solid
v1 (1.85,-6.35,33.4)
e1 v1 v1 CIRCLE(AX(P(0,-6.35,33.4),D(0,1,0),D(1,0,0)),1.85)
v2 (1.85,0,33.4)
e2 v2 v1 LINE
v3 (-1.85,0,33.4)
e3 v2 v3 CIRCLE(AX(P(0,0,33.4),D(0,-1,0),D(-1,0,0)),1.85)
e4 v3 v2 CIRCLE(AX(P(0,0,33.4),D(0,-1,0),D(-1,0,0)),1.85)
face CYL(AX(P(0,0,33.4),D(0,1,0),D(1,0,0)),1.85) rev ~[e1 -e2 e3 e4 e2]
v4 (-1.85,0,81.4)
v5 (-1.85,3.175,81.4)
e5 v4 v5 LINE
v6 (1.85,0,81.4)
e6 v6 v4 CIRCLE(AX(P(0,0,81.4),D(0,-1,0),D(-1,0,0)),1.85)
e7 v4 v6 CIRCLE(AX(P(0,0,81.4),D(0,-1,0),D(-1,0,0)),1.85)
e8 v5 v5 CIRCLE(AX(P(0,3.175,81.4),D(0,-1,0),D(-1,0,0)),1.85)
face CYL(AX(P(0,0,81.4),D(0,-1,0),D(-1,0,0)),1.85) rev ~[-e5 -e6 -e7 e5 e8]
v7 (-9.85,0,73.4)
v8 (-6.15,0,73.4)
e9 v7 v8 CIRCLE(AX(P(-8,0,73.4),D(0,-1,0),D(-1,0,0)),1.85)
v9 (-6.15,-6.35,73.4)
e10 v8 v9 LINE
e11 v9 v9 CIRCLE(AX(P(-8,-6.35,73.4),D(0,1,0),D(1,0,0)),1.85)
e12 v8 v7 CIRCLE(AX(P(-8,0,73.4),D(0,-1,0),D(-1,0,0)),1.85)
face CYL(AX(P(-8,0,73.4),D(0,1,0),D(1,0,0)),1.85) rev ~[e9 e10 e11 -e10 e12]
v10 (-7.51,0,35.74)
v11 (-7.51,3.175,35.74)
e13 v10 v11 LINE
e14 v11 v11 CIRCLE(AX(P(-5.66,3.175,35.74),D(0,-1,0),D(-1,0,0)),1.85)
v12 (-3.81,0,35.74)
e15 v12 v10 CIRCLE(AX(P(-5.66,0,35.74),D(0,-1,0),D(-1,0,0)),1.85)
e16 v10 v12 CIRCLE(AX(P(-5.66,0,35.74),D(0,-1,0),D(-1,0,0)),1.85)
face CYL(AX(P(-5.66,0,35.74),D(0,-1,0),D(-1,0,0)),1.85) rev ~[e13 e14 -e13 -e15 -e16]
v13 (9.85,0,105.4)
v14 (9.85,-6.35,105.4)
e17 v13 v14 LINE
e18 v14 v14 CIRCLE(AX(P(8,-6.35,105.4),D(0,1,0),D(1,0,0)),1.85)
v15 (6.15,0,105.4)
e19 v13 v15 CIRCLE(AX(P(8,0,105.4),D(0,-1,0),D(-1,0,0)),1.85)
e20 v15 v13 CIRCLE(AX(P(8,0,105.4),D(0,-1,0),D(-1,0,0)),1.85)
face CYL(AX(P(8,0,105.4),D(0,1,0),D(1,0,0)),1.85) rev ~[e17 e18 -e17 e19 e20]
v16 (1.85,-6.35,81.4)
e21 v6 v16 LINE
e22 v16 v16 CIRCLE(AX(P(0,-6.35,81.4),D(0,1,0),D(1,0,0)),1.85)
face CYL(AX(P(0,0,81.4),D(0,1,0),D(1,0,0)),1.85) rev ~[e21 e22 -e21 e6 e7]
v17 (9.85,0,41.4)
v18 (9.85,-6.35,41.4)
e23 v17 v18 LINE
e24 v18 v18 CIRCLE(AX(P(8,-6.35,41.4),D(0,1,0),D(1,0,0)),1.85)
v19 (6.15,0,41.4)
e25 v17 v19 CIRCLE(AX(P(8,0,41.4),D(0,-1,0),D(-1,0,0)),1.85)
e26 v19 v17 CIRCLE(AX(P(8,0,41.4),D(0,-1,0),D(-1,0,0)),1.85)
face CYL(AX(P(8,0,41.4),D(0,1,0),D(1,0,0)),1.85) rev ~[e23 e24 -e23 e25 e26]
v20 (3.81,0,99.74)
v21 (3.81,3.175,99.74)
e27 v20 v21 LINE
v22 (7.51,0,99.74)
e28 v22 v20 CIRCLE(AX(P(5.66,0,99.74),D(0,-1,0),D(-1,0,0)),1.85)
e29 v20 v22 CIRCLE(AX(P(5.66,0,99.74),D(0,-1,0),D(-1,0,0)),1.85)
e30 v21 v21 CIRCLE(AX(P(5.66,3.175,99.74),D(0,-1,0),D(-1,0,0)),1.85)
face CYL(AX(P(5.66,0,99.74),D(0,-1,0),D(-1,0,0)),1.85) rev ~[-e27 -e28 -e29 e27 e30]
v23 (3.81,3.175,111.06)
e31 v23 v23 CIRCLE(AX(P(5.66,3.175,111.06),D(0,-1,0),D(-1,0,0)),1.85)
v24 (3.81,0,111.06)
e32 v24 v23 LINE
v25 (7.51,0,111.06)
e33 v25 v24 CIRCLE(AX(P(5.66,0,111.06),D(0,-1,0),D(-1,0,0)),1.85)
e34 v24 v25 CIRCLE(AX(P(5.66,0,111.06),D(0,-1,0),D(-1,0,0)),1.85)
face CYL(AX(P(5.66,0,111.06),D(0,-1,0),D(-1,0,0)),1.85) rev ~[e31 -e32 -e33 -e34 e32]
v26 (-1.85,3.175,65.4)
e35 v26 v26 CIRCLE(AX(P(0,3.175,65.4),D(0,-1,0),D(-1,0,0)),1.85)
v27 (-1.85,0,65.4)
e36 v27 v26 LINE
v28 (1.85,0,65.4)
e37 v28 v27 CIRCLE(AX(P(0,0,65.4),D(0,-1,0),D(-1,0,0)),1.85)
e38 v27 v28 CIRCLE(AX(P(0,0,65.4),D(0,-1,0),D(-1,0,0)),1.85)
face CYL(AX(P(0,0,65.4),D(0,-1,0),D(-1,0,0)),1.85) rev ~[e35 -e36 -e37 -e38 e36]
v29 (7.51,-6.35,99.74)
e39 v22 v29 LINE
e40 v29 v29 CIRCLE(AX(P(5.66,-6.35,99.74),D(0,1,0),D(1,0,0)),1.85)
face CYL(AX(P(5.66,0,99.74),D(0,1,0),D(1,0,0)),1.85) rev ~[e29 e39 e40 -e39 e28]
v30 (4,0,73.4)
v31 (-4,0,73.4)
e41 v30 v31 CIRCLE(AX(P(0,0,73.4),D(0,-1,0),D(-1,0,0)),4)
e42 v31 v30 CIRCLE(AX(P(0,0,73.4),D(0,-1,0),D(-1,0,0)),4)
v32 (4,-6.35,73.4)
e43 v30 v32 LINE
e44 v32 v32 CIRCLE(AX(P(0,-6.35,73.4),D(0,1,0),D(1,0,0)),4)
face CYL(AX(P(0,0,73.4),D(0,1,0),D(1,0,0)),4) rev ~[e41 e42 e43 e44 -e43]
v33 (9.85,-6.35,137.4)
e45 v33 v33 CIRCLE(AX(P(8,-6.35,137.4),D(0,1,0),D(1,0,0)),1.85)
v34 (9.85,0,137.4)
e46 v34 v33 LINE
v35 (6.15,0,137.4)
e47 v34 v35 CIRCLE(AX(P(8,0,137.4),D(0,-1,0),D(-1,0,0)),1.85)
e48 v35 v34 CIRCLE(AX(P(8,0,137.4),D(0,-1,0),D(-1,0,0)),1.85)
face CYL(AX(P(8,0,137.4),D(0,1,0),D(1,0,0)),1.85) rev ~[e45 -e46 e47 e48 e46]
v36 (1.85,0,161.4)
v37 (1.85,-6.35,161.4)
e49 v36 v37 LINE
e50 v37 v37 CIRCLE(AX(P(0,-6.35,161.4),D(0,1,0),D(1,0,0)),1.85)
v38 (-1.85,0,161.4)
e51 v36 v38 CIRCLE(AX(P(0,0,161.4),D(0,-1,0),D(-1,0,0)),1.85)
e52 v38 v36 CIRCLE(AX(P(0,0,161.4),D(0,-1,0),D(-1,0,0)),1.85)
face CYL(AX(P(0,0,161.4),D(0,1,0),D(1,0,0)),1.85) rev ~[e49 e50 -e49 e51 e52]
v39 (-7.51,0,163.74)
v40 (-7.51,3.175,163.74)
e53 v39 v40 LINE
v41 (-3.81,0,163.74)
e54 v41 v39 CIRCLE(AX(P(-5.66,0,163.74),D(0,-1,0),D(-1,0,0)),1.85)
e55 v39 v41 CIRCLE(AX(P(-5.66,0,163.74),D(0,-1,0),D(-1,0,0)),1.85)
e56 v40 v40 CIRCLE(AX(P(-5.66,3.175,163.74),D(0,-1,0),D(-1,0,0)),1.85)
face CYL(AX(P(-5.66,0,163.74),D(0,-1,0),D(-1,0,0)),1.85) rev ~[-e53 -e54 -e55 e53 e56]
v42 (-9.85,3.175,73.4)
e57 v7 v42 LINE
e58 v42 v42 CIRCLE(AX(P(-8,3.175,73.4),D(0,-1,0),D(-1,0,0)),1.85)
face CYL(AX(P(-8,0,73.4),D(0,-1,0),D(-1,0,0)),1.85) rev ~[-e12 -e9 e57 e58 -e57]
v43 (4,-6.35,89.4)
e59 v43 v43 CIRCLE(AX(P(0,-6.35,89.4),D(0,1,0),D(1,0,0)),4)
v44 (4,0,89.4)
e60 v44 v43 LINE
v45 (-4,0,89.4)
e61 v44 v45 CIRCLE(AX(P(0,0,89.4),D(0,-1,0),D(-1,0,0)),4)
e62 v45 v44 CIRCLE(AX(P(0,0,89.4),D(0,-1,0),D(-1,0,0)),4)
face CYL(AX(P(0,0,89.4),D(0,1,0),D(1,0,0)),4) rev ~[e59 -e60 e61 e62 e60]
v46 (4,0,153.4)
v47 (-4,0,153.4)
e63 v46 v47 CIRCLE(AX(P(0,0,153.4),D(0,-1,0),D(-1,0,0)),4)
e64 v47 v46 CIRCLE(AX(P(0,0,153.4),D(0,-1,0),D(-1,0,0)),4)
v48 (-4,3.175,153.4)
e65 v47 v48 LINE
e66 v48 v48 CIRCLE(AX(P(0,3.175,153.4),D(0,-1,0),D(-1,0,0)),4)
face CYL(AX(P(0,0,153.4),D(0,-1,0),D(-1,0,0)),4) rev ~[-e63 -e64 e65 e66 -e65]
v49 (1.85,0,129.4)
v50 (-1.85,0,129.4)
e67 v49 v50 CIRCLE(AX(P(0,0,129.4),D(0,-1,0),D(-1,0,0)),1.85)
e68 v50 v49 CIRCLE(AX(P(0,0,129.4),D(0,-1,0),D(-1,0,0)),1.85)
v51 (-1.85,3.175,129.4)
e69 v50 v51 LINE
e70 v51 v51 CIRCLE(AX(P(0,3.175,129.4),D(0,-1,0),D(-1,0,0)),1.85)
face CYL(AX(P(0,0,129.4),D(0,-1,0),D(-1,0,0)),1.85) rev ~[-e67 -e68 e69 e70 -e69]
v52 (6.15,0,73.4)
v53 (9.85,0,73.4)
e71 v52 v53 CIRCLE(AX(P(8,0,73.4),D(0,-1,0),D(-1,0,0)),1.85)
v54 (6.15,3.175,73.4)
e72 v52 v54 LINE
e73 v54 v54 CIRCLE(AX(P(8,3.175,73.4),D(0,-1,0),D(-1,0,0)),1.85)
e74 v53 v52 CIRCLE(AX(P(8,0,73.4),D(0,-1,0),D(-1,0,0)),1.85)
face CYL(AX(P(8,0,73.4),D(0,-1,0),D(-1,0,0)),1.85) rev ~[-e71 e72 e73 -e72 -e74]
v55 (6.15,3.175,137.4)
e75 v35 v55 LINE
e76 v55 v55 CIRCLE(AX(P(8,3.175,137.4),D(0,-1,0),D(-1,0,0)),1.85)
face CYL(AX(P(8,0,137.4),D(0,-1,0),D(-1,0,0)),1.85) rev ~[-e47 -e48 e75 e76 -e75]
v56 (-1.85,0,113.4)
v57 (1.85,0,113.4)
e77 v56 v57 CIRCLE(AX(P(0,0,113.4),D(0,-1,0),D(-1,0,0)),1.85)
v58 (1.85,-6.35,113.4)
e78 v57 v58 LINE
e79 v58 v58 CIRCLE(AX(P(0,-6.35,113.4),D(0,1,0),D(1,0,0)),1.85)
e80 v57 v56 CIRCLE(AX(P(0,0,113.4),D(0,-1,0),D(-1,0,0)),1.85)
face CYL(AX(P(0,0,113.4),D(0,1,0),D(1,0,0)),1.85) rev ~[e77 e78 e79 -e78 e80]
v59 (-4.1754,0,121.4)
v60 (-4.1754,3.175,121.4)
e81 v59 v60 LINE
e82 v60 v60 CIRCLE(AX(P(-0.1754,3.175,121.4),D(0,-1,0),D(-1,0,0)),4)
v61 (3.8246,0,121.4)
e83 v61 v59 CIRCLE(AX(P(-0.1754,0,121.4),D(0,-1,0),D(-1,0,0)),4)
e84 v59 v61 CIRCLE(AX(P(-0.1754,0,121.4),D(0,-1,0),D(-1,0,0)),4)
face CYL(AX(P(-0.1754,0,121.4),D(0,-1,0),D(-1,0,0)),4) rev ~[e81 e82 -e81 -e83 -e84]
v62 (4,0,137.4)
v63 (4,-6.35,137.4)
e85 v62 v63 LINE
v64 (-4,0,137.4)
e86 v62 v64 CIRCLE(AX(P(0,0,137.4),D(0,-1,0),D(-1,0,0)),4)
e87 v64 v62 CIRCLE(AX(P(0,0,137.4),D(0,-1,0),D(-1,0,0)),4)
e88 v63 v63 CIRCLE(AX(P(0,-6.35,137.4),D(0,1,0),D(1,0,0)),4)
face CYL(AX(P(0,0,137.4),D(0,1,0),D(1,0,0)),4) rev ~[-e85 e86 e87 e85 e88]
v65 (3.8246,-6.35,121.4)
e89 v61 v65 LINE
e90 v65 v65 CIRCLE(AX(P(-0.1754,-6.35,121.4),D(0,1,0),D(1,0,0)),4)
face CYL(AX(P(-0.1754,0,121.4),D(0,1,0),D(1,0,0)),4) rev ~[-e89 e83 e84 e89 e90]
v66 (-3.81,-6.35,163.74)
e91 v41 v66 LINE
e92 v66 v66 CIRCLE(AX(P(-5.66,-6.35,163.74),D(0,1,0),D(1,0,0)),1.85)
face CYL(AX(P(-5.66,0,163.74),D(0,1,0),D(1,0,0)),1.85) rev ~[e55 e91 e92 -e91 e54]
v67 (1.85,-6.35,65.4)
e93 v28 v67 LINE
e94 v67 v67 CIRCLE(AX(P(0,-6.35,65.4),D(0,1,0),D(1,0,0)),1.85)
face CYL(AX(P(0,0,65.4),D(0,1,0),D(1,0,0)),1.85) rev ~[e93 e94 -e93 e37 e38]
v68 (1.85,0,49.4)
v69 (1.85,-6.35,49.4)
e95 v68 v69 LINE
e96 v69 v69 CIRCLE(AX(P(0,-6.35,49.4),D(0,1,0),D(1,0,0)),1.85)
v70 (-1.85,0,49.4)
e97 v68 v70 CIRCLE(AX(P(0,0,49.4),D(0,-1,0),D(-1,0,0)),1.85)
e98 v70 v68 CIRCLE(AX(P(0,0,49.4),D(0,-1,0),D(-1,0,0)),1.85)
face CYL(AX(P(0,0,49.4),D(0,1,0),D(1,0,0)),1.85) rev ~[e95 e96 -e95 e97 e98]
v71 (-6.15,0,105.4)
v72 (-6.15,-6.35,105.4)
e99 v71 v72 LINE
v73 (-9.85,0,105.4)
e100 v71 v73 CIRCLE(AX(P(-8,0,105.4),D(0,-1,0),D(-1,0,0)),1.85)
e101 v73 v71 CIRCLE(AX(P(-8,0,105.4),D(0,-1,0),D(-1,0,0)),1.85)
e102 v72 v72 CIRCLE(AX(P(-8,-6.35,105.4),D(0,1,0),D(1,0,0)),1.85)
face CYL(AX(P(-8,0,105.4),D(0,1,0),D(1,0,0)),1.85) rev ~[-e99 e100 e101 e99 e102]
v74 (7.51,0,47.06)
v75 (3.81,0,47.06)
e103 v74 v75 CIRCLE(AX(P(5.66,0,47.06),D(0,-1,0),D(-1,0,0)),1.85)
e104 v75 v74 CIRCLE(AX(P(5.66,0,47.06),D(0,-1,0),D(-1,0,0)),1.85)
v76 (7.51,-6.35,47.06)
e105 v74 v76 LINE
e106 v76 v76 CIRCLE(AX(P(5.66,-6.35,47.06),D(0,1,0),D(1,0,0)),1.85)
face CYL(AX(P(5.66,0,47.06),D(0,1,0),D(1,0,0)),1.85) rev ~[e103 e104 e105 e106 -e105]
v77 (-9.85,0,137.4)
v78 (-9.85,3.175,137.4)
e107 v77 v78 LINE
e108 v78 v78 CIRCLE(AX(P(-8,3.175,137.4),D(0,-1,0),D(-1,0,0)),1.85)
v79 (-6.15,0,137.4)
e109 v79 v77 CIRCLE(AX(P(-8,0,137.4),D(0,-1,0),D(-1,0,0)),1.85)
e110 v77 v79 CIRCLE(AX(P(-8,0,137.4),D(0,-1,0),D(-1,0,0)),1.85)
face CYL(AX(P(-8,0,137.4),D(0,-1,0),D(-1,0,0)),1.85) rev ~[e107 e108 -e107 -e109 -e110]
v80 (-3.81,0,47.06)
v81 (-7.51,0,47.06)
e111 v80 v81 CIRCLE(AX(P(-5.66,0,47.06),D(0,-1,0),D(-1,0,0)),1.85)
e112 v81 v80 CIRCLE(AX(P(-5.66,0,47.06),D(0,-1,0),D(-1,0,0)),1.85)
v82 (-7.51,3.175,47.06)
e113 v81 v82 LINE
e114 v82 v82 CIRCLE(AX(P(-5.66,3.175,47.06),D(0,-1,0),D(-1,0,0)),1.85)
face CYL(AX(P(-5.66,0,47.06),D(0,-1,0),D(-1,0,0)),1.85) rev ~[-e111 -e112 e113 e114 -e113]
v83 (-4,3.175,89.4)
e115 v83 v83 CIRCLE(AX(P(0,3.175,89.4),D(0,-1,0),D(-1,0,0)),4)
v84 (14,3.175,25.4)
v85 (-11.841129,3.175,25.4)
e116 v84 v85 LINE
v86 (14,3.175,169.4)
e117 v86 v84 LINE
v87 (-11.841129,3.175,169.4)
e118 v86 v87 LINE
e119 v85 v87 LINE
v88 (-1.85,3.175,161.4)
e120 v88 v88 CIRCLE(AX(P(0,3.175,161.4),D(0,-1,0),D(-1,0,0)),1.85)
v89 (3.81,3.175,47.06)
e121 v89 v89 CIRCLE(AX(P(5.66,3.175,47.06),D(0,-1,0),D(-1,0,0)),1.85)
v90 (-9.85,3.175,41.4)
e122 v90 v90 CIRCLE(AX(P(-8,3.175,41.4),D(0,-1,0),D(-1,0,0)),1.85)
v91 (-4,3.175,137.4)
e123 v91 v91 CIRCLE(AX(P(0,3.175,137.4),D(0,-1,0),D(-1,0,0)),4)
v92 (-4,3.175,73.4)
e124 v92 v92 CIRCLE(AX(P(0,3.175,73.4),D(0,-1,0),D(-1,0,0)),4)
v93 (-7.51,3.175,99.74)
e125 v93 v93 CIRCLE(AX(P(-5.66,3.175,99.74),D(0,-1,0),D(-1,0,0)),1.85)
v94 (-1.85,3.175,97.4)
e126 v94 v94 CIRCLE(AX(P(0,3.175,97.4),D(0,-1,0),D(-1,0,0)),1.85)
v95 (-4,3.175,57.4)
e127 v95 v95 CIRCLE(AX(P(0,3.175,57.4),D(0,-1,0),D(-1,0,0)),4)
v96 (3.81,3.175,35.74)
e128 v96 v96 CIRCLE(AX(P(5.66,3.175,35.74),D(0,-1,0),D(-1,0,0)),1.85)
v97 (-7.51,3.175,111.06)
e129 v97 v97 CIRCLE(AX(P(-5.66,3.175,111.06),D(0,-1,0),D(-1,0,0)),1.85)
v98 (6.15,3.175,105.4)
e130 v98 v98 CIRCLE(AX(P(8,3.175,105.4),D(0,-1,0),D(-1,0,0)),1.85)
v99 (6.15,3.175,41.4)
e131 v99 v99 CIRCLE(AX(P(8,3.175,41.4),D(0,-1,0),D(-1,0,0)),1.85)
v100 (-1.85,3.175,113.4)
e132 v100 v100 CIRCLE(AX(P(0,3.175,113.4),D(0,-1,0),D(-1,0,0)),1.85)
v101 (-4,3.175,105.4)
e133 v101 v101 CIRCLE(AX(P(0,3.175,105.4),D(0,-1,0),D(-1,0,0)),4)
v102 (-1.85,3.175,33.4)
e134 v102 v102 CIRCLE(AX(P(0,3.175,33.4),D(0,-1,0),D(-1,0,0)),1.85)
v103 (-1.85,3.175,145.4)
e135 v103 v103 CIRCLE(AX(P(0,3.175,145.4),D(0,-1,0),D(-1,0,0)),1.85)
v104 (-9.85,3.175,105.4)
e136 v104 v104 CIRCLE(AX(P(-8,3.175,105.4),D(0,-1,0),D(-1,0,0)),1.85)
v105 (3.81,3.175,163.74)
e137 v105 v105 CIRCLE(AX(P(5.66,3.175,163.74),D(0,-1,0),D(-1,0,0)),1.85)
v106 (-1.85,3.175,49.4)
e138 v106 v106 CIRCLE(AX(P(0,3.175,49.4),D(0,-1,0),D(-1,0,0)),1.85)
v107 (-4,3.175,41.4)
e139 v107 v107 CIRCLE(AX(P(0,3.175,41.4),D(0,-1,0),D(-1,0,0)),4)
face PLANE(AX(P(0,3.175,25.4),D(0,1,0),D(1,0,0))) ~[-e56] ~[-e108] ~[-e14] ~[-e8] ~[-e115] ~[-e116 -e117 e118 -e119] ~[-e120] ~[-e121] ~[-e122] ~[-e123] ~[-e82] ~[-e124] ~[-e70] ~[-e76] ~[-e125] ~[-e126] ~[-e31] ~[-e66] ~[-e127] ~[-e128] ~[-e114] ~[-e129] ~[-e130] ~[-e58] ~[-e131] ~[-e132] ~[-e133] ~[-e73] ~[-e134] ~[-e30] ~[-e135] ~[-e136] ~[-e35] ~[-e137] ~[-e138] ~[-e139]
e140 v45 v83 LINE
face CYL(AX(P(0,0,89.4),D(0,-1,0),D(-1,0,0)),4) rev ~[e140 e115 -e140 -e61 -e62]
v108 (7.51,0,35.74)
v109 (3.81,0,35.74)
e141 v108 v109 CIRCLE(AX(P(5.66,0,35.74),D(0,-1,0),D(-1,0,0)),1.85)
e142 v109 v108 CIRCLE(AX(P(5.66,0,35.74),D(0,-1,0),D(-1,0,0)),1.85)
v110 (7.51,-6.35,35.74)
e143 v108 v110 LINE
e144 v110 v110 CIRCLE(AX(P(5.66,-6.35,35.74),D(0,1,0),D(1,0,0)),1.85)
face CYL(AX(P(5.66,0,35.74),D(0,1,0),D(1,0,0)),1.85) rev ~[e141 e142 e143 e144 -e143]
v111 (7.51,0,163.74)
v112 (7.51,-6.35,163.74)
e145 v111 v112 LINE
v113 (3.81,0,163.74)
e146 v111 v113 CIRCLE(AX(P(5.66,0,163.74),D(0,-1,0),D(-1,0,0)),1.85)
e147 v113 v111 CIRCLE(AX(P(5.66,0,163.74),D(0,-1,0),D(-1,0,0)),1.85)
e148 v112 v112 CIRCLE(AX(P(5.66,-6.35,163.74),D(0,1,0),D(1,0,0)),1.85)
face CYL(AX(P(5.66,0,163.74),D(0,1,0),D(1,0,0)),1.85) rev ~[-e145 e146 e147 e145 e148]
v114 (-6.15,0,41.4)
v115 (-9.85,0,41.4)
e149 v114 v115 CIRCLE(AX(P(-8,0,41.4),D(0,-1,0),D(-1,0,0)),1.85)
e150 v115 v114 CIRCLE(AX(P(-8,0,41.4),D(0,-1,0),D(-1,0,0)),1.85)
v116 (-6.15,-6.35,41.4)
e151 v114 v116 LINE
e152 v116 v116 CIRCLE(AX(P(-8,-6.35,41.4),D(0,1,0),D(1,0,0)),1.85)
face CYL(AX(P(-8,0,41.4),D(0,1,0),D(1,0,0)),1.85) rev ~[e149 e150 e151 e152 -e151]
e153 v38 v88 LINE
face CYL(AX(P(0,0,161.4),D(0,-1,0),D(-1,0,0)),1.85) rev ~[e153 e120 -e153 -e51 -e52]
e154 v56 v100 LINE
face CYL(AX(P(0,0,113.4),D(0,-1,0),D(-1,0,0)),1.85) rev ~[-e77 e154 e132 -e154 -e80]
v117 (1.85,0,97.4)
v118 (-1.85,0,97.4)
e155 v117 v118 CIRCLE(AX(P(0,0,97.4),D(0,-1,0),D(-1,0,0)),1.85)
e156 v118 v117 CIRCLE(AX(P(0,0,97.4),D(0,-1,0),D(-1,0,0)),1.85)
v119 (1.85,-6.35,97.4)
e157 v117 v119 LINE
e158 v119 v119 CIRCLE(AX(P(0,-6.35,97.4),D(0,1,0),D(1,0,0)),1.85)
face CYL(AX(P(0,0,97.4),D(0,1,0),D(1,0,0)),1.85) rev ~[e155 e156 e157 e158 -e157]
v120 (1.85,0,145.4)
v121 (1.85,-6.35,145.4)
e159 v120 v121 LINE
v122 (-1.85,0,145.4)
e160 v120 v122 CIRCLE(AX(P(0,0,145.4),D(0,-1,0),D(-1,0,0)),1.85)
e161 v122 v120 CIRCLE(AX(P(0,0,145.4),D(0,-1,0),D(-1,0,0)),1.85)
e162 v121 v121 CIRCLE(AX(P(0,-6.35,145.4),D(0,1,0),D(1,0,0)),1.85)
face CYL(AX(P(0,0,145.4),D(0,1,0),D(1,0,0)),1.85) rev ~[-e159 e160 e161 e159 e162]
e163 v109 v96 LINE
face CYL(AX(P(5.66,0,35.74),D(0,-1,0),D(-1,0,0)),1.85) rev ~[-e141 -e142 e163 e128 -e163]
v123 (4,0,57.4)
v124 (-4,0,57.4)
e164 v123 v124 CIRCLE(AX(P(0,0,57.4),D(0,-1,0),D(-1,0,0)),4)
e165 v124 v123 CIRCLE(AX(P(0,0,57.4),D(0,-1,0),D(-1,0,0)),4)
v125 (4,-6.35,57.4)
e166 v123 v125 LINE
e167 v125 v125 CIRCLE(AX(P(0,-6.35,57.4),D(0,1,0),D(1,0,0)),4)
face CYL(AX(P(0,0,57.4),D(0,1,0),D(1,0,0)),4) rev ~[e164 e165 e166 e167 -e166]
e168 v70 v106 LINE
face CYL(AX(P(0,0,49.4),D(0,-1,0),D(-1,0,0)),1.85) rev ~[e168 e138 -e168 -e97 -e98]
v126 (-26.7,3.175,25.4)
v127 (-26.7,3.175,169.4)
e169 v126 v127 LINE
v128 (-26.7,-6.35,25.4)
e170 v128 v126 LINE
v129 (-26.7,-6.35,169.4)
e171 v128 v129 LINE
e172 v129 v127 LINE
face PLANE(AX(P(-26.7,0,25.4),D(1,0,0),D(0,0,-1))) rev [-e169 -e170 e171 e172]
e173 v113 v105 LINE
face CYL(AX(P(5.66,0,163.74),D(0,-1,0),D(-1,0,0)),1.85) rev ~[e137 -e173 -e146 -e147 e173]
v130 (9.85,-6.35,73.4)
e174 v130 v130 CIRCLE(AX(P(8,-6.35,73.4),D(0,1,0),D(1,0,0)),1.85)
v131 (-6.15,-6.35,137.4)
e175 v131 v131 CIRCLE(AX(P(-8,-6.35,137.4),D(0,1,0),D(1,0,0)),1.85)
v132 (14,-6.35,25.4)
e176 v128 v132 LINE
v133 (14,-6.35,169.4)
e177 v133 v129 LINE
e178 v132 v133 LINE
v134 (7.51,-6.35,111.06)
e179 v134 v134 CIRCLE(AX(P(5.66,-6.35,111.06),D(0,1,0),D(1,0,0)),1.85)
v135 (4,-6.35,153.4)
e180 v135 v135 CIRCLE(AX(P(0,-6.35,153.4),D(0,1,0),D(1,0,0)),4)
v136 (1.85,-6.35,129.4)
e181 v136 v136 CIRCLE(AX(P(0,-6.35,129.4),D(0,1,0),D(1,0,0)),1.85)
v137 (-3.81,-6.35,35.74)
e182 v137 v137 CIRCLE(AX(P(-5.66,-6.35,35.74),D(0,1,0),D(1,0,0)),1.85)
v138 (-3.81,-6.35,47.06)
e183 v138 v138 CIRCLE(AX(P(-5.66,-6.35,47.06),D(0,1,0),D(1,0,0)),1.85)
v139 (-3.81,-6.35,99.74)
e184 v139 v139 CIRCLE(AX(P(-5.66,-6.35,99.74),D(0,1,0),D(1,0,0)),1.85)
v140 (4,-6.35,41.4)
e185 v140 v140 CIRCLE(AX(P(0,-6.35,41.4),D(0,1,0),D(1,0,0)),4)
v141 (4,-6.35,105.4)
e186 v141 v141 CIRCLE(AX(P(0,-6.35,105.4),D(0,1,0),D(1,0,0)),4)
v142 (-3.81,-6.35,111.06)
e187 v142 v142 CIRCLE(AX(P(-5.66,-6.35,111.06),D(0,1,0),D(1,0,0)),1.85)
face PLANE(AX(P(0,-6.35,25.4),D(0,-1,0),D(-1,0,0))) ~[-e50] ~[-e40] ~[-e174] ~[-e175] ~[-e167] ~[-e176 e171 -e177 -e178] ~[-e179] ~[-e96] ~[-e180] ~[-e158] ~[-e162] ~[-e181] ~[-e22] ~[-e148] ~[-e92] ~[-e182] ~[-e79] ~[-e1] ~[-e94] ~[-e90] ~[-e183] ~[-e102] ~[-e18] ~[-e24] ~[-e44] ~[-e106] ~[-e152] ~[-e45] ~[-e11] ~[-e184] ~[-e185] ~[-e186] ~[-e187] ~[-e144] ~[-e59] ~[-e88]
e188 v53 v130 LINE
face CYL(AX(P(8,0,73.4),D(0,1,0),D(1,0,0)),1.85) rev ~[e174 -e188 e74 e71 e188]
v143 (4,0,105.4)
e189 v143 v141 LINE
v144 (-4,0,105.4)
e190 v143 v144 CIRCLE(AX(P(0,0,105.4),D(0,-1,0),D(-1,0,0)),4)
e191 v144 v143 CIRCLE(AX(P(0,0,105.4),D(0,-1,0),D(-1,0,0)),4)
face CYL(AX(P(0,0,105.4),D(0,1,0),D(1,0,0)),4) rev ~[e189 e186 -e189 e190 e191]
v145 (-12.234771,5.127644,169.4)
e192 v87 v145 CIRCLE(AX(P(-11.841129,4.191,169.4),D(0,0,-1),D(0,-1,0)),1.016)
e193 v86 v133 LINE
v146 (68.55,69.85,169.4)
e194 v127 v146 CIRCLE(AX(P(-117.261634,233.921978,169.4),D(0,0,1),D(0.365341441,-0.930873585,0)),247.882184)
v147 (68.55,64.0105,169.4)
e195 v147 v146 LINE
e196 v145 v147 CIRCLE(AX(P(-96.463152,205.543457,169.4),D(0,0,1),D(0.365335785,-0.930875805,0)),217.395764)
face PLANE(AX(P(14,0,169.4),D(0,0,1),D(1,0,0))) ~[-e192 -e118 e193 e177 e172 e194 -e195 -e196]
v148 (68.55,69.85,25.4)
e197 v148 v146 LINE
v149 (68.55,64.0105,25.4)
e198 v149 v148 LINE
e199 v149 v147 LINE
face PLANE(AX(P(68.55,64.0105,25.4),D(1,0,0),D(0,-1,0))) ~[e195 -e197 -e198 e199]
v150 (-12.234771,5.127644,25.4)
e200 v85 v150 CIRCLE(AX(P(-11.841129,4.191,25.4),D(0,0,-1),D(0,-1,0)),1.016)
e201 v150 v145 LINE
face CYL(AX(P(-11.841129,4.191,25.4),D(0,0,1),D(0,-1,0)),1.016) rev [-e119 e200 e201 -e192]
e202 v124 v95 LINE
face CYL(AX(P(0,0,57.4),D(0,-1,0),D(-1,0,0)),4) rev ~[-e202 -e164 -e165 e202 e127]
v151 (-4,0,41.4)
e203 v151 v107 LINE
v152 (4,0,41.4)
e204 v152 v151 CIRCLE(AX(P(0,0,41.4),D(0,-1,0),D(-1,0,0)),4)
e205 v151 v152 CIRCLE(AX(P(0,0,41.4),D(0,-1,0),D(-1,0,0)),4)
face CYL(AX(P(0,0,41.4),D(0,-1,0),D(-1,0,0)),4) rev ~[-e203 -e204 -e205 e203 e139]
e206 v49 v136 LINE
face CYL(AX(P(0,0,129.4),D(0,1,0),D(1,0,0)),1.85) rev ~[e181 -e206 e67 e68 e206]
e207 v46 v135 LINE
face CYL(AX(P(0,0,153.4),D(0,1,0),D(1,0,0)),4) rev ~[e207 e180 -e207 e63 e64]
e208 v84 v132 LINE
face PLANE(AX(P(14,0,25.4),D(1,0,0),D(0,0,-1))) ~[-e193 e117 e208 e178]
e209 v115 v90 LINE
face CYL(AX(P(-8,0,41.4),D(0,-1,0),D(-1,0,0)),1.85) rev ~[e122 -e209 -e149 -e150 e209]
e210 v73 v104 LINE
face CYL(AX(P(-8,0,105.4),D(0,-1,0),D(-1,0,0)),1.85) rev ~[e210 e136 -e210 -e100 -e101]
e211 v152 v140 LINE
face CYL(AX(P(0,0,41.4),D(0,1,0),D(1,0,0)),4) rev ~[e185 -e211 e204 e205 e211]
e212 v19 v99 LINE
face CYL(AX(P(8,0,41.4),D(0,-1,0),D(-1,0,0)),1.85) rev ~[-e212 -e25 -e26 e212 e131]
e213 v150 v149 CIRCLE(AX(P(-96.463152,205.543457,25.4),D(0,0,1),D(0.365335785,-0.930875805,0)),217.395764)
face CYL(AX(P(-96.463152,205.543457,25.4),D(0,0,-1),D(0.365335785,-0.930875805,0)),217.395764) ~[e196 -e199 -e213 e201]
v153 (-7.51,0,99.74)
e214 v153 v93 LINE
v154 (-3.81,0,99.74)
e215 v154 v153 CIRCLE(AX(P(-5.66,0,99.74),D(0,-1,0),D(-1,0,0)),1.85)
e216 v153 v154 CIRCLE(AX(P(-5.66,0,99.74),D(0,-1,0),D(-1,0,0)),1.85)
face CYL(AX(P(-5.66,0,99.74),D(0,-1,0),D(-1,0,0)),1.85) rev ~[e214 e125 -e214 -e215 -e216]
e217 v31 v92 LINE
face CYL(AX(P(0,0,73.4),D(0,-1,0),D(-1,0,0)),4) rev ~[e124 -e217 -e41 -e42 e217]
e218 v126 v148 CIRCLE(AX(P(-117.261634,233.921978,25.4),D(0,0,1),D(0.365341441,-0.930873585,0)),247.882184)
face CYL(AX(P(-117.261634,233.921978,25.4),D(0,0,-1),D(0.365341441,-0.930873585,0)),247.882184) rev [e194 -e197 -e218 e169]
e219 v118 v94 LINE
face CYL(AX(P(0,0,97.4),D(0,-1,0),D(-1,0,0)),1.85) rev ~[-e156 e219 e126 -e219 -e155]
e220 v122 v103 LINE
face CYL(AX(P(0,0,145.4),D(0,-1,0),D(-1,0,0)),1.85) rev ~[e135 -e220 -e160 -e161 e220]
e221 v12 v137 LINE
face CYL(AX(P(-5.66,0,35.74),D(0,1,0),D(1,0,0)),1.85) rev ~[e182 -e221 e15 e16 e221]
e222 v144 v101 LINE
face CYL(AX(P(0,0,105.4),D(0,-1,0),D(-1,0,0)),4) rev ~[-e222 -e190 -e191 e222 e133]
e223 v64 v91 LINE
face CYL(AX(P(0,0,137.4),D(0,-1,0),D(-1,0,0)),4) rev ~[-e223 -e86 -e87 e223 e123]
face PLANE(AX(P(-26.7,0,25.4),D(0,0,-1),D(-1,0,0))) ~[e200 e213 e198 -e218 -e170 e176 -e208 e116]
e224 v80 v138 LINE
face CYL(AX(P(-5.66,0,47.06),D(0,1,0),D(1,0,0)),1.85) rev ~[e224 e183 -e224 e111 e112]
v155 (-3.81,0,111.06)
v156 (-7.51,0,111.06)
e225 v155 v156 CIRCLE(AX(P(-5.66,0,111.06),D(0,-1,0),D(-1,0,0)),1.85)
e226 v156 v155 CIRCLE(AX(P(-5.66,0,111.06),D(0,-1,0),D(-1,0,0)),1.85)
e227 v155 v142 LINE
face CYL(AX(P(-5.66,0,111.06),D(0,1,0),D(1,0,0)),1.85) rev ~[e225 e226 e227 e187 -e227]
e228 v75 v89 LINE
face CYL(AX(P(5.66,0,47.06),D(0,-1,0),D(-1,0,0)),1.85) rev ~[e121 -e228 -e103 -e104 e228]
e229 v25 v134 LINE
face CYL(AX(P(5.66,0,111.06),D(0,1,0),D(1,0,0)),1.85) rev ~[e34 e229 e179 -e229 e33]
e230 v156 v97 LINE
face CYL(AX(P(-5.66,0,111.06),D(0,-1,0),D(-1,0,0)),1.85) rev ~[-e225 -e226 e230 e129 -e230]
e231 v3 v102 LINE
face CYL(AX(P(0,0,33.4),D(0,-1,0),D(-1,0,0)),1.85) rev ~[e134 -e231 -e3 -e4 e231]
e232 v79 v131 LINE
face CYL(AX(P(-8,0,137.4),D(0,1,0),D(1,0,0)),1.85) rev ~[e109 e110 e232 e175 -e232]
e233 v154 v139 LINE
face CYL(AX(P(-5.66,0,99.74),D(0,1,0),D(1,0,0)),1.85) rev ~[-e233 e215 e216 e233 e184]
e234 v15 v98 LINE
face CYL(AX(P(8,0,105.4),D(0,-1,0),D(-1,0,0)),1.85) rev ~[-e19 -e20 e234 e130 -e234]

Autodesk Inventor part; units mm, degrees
ref_plane "YZ Plane" through (0, 0, 0) normal (1, 0, 0) x (0, 1, 0)
ref_plane "XY Plane" through (0, 0, 0) normal (0, 0, 1) x (1, 0, 0)
sketch "Sketch1" plane through (0, 0, 0) normal (0, 1, 0) x (-1, 0, 0)
  point P0 (0, 0)
ref_plane "Work Plane1" through (-14, 16, -288) normal (0, 1, 0) x (1, 0, 0)
sketch "Sketch3" plane through (0, 0, 0) normal (0, 1, 0) x (-1, 0, 0)
  line L0 (14, 0) -> (-14, 0)
  line L1 (14, -144) -> (14, 0)
  line L2 (-14, -144) -> (-14, 0)
  circle A0 centre (5.66, -138.34) radius 1.85
  circle A1 centre (-5.66, -138.34) radius 1.85
  circle A2 centre (0, -136) radius 1.85
  circle A3 centre (-5.66, -74.34) radius 1.85
  circle A4 centre (-5.66, -85.66) radius 1.85
  circle A5 centre (5.66, -85.66) radius 1.85
  circle A6 centre (5.66, -74.34) radius 1.85
  circle A7 centre (8, -80) radius 1.85
  circle A8 centre (-8, -80) radius 1.85
  circle A9 centre (0, -72) radius 1.85
  circle A10 centre (0, -88) radius 1.85
  circle A11 centre (0, -80) radius 4
  circle A12 centre (8, -112) radius 1.85
  circle A13 centre (-8, -112) radius 1.85
  circle A14 centre (0, -104) radius 1.85
  circle A15 centre (0, -120) radius 1.85
  circle A16 centre (0, -112) radius 4
  circle A17 centre (-5.66, -10.34) radius 1.85
  circle A18 centre (-5.66, -21.66) radius 1.85
  circle A19 centre (5.66, -21.66) radius 1.85
  circle A20 centre (5.66, -10.34) radius 1.85
  circle A21 centre (8, -16) radius 1.85
  circle A22 centre (-8, -16) radius 1.85
  circle A23 centre (0, -8) radius 1.85
  circle A24 centre (0, -24) radius 1.85
  circle A25 centre (0, -16) radius 4
  circle A26 centre (8, -48) radius 1.85
  circle A27 centre (-8, -48) radius 1.85
  circle A28 centre (0, -40) radius 1.85
  circle A29 centre (0, -56) radius 1.85
  circle A30 centre (0, -48) radius 4
  circle A31 centre (0, -128) radius 4
  circle A32 centre (0.1754, -96) radius 4
  circle A33 centre (0, -64) radius 4
  circle A34 centre (0, -32) radius 4
  line L3 (14, -144) -> (-14, -144)
  point P0 (0, 0)
extrude "Extrusion1" add sketch "Sketch3" along normal blind 3.175
sketch "Sketch4" plane through (0, 0, 0) normal (0, -1, 0) x (1, 0, 0)
  point P0 (0, 0)
sketch "Sketch10" plane through (-14, 0, 0) normal (0, 0, 1) x (1, 0, 0)
  line L0 (0, 0) -> (28, 0) projected
  line L1 (0, 0) -> (82.55, 0)
  line L2 (82.55, 0) -> (82.55, 69.85)
  line L3 (0, 3.175) -> (28, 3.175) projected
  line L4 (28, 0) -> (28, 3.175) projected
  line L5 (0, 0) -> (0, 3.175) projected
  line L6 (0, 0) -> (-12.7, 0)
  line L7 (-12.7, 3.175) -> (0, 3.175)
  line L8 (0, 3.175) -> (0, 0)
  arc A0 (-3.0407, 3.175) -> (82.55, 64.0105) centre (-82.4635, 205.5441) ccw
  arc A1 (-12.7, 3.175) -> (82.55, 69.85) centre (-103.2617, 233.9221) ccw
  line L9 (-12.7, 3.175) -> (-12.7, 0)
  point P0 (14, 0)
  dimension "d18" = 82.55
  dimension "d19" = 69.85
extrude "Extrusion7" add sketch "Sketch10" against normal up to surface (144 mm away) contours L6 L9 L7 L5 | L7 A1 L2 A0
fillet "Fillet3" radius 1.016 1 edges at (-17.0407, 3.175, -72)
sketch "Sketch11" plane through (0, 0, 0) normal (0, -1, 0) x (1, 0, 0)
  line L0 (-26.7, 0) -> (14, 0) projected
  line L1 (-26.7, 0) -> (-26.7, -144) projected
  line L2 (14, -144) -> (-26.7, -144) projected
  line L3 (14, 0) -> (14, -144) projected
  circle A0 centre (0, -32) radius 4 projected
  circle A1 centre (-0.1754, -96) radius 4 projected
  circle A2 centre (0, -48) radius 4 projected
  circle A3 centre (0, -40) radius 1.85 projected
  circle A4 centre (-8, -48) radius 1.85 projected
  circle A5 centre (0, -8) radius 1.85 projected
  circle A6 centre (-8, -16) radius 1.85 projected
  circle A7 centre (0, -120) radius 1.85 projected
  circle A8 centre (8, -112) radius 1.85 projected
  circle A9 centre (-5.66, -138.34) radius 1.85 projected
  circle A10 centre (5.66, -138.34) radius 1.85 projected
  circle A11 centre (0, -136) radius 1.85 projected
  circle A12 centre (-8, -80) radius 1.85 projected
  circle A13 centre (8, -80) radius 1.85 projected
  circle A14 centre (0, -72) radius 1.85 projected
  circle A15 centre (0, -88) radius 1.85 projected
  circle A16 centre (-8, -112) radius 1.85 projected
  circle A17 centre (0, -104) radius 1.85 projected
  circle A18 centre (0, -112) radius 4 projected
  circle A19 centre (8, -16) radius 1.85 projected
  circle A20 centre (0, -24) radius 1.85 projected
  circle A21 centre (8, -48) radius 1.85 projected
  circle A22 centre (0, -56) radius 1.85 projected
  circle A23 centre (0, -128) radius 4 projected
  circle A24 centre (0, -64) radius 4 projected
  circle A25 centre (0, -16) radius 4 projected
  circle A26 centre (-5.66, -10.34) radius 1.85 projected
  circle A27 centre (-5.66, -21.66) radius 1.85 projected
  circle A28 centre (5.66, -21.66) radius 1.85 projected
  circle A29 centre (5.66, -10.34) radius 1.85 projected
  circle A30 centre (0, -80) radius 4 projected
  circle A31 centre (-5.66, -74.34) radius 1.85 projected
  circle A32 centre (-5.66, -85.66) radius 1.85 projected
  circle A33 centre (5.66, -85.66) radius 1.85 projected
  circle A34 centre (5.66, -74.34) radius 1.85 projected
  point P0 (0, 0)
extrude "Extrusion8" add sketch "Sketch11" along normal blind 6.35
ref_plane "Work Plane2" through (68.55, 64.0105, 12.7) normal (0, 0, 1) x (1, 0, 0)
mirror "Mirror1" about plane through (68.55, 64.0105, 12.7) normal (0, 0, 1) of "Extrusion1", "Extrusion7", "Fillet3", "Extrusion8"
sketch "Sketch13" plane through (0, -6.35, 0) normal (0, -1, 0) x (1, 0, 0)
  line L0 (-71.1109, -172.9403) -> (93.8528, -172.9403)
  line L1 (93.8528, -172.9403) -> (93.8528, 6.9583)
  line L2 (93.8528, 6.9583) -> (-71.1109, 6.9583)
  line L3 (-71.1109, 6.9583) -> (-71.1109, -172.9403)
  point P0 (0, 0)
extrude "Extrusion10" cut sketch "Sketch13" against normal blind 381
properties part number "rampside1"
